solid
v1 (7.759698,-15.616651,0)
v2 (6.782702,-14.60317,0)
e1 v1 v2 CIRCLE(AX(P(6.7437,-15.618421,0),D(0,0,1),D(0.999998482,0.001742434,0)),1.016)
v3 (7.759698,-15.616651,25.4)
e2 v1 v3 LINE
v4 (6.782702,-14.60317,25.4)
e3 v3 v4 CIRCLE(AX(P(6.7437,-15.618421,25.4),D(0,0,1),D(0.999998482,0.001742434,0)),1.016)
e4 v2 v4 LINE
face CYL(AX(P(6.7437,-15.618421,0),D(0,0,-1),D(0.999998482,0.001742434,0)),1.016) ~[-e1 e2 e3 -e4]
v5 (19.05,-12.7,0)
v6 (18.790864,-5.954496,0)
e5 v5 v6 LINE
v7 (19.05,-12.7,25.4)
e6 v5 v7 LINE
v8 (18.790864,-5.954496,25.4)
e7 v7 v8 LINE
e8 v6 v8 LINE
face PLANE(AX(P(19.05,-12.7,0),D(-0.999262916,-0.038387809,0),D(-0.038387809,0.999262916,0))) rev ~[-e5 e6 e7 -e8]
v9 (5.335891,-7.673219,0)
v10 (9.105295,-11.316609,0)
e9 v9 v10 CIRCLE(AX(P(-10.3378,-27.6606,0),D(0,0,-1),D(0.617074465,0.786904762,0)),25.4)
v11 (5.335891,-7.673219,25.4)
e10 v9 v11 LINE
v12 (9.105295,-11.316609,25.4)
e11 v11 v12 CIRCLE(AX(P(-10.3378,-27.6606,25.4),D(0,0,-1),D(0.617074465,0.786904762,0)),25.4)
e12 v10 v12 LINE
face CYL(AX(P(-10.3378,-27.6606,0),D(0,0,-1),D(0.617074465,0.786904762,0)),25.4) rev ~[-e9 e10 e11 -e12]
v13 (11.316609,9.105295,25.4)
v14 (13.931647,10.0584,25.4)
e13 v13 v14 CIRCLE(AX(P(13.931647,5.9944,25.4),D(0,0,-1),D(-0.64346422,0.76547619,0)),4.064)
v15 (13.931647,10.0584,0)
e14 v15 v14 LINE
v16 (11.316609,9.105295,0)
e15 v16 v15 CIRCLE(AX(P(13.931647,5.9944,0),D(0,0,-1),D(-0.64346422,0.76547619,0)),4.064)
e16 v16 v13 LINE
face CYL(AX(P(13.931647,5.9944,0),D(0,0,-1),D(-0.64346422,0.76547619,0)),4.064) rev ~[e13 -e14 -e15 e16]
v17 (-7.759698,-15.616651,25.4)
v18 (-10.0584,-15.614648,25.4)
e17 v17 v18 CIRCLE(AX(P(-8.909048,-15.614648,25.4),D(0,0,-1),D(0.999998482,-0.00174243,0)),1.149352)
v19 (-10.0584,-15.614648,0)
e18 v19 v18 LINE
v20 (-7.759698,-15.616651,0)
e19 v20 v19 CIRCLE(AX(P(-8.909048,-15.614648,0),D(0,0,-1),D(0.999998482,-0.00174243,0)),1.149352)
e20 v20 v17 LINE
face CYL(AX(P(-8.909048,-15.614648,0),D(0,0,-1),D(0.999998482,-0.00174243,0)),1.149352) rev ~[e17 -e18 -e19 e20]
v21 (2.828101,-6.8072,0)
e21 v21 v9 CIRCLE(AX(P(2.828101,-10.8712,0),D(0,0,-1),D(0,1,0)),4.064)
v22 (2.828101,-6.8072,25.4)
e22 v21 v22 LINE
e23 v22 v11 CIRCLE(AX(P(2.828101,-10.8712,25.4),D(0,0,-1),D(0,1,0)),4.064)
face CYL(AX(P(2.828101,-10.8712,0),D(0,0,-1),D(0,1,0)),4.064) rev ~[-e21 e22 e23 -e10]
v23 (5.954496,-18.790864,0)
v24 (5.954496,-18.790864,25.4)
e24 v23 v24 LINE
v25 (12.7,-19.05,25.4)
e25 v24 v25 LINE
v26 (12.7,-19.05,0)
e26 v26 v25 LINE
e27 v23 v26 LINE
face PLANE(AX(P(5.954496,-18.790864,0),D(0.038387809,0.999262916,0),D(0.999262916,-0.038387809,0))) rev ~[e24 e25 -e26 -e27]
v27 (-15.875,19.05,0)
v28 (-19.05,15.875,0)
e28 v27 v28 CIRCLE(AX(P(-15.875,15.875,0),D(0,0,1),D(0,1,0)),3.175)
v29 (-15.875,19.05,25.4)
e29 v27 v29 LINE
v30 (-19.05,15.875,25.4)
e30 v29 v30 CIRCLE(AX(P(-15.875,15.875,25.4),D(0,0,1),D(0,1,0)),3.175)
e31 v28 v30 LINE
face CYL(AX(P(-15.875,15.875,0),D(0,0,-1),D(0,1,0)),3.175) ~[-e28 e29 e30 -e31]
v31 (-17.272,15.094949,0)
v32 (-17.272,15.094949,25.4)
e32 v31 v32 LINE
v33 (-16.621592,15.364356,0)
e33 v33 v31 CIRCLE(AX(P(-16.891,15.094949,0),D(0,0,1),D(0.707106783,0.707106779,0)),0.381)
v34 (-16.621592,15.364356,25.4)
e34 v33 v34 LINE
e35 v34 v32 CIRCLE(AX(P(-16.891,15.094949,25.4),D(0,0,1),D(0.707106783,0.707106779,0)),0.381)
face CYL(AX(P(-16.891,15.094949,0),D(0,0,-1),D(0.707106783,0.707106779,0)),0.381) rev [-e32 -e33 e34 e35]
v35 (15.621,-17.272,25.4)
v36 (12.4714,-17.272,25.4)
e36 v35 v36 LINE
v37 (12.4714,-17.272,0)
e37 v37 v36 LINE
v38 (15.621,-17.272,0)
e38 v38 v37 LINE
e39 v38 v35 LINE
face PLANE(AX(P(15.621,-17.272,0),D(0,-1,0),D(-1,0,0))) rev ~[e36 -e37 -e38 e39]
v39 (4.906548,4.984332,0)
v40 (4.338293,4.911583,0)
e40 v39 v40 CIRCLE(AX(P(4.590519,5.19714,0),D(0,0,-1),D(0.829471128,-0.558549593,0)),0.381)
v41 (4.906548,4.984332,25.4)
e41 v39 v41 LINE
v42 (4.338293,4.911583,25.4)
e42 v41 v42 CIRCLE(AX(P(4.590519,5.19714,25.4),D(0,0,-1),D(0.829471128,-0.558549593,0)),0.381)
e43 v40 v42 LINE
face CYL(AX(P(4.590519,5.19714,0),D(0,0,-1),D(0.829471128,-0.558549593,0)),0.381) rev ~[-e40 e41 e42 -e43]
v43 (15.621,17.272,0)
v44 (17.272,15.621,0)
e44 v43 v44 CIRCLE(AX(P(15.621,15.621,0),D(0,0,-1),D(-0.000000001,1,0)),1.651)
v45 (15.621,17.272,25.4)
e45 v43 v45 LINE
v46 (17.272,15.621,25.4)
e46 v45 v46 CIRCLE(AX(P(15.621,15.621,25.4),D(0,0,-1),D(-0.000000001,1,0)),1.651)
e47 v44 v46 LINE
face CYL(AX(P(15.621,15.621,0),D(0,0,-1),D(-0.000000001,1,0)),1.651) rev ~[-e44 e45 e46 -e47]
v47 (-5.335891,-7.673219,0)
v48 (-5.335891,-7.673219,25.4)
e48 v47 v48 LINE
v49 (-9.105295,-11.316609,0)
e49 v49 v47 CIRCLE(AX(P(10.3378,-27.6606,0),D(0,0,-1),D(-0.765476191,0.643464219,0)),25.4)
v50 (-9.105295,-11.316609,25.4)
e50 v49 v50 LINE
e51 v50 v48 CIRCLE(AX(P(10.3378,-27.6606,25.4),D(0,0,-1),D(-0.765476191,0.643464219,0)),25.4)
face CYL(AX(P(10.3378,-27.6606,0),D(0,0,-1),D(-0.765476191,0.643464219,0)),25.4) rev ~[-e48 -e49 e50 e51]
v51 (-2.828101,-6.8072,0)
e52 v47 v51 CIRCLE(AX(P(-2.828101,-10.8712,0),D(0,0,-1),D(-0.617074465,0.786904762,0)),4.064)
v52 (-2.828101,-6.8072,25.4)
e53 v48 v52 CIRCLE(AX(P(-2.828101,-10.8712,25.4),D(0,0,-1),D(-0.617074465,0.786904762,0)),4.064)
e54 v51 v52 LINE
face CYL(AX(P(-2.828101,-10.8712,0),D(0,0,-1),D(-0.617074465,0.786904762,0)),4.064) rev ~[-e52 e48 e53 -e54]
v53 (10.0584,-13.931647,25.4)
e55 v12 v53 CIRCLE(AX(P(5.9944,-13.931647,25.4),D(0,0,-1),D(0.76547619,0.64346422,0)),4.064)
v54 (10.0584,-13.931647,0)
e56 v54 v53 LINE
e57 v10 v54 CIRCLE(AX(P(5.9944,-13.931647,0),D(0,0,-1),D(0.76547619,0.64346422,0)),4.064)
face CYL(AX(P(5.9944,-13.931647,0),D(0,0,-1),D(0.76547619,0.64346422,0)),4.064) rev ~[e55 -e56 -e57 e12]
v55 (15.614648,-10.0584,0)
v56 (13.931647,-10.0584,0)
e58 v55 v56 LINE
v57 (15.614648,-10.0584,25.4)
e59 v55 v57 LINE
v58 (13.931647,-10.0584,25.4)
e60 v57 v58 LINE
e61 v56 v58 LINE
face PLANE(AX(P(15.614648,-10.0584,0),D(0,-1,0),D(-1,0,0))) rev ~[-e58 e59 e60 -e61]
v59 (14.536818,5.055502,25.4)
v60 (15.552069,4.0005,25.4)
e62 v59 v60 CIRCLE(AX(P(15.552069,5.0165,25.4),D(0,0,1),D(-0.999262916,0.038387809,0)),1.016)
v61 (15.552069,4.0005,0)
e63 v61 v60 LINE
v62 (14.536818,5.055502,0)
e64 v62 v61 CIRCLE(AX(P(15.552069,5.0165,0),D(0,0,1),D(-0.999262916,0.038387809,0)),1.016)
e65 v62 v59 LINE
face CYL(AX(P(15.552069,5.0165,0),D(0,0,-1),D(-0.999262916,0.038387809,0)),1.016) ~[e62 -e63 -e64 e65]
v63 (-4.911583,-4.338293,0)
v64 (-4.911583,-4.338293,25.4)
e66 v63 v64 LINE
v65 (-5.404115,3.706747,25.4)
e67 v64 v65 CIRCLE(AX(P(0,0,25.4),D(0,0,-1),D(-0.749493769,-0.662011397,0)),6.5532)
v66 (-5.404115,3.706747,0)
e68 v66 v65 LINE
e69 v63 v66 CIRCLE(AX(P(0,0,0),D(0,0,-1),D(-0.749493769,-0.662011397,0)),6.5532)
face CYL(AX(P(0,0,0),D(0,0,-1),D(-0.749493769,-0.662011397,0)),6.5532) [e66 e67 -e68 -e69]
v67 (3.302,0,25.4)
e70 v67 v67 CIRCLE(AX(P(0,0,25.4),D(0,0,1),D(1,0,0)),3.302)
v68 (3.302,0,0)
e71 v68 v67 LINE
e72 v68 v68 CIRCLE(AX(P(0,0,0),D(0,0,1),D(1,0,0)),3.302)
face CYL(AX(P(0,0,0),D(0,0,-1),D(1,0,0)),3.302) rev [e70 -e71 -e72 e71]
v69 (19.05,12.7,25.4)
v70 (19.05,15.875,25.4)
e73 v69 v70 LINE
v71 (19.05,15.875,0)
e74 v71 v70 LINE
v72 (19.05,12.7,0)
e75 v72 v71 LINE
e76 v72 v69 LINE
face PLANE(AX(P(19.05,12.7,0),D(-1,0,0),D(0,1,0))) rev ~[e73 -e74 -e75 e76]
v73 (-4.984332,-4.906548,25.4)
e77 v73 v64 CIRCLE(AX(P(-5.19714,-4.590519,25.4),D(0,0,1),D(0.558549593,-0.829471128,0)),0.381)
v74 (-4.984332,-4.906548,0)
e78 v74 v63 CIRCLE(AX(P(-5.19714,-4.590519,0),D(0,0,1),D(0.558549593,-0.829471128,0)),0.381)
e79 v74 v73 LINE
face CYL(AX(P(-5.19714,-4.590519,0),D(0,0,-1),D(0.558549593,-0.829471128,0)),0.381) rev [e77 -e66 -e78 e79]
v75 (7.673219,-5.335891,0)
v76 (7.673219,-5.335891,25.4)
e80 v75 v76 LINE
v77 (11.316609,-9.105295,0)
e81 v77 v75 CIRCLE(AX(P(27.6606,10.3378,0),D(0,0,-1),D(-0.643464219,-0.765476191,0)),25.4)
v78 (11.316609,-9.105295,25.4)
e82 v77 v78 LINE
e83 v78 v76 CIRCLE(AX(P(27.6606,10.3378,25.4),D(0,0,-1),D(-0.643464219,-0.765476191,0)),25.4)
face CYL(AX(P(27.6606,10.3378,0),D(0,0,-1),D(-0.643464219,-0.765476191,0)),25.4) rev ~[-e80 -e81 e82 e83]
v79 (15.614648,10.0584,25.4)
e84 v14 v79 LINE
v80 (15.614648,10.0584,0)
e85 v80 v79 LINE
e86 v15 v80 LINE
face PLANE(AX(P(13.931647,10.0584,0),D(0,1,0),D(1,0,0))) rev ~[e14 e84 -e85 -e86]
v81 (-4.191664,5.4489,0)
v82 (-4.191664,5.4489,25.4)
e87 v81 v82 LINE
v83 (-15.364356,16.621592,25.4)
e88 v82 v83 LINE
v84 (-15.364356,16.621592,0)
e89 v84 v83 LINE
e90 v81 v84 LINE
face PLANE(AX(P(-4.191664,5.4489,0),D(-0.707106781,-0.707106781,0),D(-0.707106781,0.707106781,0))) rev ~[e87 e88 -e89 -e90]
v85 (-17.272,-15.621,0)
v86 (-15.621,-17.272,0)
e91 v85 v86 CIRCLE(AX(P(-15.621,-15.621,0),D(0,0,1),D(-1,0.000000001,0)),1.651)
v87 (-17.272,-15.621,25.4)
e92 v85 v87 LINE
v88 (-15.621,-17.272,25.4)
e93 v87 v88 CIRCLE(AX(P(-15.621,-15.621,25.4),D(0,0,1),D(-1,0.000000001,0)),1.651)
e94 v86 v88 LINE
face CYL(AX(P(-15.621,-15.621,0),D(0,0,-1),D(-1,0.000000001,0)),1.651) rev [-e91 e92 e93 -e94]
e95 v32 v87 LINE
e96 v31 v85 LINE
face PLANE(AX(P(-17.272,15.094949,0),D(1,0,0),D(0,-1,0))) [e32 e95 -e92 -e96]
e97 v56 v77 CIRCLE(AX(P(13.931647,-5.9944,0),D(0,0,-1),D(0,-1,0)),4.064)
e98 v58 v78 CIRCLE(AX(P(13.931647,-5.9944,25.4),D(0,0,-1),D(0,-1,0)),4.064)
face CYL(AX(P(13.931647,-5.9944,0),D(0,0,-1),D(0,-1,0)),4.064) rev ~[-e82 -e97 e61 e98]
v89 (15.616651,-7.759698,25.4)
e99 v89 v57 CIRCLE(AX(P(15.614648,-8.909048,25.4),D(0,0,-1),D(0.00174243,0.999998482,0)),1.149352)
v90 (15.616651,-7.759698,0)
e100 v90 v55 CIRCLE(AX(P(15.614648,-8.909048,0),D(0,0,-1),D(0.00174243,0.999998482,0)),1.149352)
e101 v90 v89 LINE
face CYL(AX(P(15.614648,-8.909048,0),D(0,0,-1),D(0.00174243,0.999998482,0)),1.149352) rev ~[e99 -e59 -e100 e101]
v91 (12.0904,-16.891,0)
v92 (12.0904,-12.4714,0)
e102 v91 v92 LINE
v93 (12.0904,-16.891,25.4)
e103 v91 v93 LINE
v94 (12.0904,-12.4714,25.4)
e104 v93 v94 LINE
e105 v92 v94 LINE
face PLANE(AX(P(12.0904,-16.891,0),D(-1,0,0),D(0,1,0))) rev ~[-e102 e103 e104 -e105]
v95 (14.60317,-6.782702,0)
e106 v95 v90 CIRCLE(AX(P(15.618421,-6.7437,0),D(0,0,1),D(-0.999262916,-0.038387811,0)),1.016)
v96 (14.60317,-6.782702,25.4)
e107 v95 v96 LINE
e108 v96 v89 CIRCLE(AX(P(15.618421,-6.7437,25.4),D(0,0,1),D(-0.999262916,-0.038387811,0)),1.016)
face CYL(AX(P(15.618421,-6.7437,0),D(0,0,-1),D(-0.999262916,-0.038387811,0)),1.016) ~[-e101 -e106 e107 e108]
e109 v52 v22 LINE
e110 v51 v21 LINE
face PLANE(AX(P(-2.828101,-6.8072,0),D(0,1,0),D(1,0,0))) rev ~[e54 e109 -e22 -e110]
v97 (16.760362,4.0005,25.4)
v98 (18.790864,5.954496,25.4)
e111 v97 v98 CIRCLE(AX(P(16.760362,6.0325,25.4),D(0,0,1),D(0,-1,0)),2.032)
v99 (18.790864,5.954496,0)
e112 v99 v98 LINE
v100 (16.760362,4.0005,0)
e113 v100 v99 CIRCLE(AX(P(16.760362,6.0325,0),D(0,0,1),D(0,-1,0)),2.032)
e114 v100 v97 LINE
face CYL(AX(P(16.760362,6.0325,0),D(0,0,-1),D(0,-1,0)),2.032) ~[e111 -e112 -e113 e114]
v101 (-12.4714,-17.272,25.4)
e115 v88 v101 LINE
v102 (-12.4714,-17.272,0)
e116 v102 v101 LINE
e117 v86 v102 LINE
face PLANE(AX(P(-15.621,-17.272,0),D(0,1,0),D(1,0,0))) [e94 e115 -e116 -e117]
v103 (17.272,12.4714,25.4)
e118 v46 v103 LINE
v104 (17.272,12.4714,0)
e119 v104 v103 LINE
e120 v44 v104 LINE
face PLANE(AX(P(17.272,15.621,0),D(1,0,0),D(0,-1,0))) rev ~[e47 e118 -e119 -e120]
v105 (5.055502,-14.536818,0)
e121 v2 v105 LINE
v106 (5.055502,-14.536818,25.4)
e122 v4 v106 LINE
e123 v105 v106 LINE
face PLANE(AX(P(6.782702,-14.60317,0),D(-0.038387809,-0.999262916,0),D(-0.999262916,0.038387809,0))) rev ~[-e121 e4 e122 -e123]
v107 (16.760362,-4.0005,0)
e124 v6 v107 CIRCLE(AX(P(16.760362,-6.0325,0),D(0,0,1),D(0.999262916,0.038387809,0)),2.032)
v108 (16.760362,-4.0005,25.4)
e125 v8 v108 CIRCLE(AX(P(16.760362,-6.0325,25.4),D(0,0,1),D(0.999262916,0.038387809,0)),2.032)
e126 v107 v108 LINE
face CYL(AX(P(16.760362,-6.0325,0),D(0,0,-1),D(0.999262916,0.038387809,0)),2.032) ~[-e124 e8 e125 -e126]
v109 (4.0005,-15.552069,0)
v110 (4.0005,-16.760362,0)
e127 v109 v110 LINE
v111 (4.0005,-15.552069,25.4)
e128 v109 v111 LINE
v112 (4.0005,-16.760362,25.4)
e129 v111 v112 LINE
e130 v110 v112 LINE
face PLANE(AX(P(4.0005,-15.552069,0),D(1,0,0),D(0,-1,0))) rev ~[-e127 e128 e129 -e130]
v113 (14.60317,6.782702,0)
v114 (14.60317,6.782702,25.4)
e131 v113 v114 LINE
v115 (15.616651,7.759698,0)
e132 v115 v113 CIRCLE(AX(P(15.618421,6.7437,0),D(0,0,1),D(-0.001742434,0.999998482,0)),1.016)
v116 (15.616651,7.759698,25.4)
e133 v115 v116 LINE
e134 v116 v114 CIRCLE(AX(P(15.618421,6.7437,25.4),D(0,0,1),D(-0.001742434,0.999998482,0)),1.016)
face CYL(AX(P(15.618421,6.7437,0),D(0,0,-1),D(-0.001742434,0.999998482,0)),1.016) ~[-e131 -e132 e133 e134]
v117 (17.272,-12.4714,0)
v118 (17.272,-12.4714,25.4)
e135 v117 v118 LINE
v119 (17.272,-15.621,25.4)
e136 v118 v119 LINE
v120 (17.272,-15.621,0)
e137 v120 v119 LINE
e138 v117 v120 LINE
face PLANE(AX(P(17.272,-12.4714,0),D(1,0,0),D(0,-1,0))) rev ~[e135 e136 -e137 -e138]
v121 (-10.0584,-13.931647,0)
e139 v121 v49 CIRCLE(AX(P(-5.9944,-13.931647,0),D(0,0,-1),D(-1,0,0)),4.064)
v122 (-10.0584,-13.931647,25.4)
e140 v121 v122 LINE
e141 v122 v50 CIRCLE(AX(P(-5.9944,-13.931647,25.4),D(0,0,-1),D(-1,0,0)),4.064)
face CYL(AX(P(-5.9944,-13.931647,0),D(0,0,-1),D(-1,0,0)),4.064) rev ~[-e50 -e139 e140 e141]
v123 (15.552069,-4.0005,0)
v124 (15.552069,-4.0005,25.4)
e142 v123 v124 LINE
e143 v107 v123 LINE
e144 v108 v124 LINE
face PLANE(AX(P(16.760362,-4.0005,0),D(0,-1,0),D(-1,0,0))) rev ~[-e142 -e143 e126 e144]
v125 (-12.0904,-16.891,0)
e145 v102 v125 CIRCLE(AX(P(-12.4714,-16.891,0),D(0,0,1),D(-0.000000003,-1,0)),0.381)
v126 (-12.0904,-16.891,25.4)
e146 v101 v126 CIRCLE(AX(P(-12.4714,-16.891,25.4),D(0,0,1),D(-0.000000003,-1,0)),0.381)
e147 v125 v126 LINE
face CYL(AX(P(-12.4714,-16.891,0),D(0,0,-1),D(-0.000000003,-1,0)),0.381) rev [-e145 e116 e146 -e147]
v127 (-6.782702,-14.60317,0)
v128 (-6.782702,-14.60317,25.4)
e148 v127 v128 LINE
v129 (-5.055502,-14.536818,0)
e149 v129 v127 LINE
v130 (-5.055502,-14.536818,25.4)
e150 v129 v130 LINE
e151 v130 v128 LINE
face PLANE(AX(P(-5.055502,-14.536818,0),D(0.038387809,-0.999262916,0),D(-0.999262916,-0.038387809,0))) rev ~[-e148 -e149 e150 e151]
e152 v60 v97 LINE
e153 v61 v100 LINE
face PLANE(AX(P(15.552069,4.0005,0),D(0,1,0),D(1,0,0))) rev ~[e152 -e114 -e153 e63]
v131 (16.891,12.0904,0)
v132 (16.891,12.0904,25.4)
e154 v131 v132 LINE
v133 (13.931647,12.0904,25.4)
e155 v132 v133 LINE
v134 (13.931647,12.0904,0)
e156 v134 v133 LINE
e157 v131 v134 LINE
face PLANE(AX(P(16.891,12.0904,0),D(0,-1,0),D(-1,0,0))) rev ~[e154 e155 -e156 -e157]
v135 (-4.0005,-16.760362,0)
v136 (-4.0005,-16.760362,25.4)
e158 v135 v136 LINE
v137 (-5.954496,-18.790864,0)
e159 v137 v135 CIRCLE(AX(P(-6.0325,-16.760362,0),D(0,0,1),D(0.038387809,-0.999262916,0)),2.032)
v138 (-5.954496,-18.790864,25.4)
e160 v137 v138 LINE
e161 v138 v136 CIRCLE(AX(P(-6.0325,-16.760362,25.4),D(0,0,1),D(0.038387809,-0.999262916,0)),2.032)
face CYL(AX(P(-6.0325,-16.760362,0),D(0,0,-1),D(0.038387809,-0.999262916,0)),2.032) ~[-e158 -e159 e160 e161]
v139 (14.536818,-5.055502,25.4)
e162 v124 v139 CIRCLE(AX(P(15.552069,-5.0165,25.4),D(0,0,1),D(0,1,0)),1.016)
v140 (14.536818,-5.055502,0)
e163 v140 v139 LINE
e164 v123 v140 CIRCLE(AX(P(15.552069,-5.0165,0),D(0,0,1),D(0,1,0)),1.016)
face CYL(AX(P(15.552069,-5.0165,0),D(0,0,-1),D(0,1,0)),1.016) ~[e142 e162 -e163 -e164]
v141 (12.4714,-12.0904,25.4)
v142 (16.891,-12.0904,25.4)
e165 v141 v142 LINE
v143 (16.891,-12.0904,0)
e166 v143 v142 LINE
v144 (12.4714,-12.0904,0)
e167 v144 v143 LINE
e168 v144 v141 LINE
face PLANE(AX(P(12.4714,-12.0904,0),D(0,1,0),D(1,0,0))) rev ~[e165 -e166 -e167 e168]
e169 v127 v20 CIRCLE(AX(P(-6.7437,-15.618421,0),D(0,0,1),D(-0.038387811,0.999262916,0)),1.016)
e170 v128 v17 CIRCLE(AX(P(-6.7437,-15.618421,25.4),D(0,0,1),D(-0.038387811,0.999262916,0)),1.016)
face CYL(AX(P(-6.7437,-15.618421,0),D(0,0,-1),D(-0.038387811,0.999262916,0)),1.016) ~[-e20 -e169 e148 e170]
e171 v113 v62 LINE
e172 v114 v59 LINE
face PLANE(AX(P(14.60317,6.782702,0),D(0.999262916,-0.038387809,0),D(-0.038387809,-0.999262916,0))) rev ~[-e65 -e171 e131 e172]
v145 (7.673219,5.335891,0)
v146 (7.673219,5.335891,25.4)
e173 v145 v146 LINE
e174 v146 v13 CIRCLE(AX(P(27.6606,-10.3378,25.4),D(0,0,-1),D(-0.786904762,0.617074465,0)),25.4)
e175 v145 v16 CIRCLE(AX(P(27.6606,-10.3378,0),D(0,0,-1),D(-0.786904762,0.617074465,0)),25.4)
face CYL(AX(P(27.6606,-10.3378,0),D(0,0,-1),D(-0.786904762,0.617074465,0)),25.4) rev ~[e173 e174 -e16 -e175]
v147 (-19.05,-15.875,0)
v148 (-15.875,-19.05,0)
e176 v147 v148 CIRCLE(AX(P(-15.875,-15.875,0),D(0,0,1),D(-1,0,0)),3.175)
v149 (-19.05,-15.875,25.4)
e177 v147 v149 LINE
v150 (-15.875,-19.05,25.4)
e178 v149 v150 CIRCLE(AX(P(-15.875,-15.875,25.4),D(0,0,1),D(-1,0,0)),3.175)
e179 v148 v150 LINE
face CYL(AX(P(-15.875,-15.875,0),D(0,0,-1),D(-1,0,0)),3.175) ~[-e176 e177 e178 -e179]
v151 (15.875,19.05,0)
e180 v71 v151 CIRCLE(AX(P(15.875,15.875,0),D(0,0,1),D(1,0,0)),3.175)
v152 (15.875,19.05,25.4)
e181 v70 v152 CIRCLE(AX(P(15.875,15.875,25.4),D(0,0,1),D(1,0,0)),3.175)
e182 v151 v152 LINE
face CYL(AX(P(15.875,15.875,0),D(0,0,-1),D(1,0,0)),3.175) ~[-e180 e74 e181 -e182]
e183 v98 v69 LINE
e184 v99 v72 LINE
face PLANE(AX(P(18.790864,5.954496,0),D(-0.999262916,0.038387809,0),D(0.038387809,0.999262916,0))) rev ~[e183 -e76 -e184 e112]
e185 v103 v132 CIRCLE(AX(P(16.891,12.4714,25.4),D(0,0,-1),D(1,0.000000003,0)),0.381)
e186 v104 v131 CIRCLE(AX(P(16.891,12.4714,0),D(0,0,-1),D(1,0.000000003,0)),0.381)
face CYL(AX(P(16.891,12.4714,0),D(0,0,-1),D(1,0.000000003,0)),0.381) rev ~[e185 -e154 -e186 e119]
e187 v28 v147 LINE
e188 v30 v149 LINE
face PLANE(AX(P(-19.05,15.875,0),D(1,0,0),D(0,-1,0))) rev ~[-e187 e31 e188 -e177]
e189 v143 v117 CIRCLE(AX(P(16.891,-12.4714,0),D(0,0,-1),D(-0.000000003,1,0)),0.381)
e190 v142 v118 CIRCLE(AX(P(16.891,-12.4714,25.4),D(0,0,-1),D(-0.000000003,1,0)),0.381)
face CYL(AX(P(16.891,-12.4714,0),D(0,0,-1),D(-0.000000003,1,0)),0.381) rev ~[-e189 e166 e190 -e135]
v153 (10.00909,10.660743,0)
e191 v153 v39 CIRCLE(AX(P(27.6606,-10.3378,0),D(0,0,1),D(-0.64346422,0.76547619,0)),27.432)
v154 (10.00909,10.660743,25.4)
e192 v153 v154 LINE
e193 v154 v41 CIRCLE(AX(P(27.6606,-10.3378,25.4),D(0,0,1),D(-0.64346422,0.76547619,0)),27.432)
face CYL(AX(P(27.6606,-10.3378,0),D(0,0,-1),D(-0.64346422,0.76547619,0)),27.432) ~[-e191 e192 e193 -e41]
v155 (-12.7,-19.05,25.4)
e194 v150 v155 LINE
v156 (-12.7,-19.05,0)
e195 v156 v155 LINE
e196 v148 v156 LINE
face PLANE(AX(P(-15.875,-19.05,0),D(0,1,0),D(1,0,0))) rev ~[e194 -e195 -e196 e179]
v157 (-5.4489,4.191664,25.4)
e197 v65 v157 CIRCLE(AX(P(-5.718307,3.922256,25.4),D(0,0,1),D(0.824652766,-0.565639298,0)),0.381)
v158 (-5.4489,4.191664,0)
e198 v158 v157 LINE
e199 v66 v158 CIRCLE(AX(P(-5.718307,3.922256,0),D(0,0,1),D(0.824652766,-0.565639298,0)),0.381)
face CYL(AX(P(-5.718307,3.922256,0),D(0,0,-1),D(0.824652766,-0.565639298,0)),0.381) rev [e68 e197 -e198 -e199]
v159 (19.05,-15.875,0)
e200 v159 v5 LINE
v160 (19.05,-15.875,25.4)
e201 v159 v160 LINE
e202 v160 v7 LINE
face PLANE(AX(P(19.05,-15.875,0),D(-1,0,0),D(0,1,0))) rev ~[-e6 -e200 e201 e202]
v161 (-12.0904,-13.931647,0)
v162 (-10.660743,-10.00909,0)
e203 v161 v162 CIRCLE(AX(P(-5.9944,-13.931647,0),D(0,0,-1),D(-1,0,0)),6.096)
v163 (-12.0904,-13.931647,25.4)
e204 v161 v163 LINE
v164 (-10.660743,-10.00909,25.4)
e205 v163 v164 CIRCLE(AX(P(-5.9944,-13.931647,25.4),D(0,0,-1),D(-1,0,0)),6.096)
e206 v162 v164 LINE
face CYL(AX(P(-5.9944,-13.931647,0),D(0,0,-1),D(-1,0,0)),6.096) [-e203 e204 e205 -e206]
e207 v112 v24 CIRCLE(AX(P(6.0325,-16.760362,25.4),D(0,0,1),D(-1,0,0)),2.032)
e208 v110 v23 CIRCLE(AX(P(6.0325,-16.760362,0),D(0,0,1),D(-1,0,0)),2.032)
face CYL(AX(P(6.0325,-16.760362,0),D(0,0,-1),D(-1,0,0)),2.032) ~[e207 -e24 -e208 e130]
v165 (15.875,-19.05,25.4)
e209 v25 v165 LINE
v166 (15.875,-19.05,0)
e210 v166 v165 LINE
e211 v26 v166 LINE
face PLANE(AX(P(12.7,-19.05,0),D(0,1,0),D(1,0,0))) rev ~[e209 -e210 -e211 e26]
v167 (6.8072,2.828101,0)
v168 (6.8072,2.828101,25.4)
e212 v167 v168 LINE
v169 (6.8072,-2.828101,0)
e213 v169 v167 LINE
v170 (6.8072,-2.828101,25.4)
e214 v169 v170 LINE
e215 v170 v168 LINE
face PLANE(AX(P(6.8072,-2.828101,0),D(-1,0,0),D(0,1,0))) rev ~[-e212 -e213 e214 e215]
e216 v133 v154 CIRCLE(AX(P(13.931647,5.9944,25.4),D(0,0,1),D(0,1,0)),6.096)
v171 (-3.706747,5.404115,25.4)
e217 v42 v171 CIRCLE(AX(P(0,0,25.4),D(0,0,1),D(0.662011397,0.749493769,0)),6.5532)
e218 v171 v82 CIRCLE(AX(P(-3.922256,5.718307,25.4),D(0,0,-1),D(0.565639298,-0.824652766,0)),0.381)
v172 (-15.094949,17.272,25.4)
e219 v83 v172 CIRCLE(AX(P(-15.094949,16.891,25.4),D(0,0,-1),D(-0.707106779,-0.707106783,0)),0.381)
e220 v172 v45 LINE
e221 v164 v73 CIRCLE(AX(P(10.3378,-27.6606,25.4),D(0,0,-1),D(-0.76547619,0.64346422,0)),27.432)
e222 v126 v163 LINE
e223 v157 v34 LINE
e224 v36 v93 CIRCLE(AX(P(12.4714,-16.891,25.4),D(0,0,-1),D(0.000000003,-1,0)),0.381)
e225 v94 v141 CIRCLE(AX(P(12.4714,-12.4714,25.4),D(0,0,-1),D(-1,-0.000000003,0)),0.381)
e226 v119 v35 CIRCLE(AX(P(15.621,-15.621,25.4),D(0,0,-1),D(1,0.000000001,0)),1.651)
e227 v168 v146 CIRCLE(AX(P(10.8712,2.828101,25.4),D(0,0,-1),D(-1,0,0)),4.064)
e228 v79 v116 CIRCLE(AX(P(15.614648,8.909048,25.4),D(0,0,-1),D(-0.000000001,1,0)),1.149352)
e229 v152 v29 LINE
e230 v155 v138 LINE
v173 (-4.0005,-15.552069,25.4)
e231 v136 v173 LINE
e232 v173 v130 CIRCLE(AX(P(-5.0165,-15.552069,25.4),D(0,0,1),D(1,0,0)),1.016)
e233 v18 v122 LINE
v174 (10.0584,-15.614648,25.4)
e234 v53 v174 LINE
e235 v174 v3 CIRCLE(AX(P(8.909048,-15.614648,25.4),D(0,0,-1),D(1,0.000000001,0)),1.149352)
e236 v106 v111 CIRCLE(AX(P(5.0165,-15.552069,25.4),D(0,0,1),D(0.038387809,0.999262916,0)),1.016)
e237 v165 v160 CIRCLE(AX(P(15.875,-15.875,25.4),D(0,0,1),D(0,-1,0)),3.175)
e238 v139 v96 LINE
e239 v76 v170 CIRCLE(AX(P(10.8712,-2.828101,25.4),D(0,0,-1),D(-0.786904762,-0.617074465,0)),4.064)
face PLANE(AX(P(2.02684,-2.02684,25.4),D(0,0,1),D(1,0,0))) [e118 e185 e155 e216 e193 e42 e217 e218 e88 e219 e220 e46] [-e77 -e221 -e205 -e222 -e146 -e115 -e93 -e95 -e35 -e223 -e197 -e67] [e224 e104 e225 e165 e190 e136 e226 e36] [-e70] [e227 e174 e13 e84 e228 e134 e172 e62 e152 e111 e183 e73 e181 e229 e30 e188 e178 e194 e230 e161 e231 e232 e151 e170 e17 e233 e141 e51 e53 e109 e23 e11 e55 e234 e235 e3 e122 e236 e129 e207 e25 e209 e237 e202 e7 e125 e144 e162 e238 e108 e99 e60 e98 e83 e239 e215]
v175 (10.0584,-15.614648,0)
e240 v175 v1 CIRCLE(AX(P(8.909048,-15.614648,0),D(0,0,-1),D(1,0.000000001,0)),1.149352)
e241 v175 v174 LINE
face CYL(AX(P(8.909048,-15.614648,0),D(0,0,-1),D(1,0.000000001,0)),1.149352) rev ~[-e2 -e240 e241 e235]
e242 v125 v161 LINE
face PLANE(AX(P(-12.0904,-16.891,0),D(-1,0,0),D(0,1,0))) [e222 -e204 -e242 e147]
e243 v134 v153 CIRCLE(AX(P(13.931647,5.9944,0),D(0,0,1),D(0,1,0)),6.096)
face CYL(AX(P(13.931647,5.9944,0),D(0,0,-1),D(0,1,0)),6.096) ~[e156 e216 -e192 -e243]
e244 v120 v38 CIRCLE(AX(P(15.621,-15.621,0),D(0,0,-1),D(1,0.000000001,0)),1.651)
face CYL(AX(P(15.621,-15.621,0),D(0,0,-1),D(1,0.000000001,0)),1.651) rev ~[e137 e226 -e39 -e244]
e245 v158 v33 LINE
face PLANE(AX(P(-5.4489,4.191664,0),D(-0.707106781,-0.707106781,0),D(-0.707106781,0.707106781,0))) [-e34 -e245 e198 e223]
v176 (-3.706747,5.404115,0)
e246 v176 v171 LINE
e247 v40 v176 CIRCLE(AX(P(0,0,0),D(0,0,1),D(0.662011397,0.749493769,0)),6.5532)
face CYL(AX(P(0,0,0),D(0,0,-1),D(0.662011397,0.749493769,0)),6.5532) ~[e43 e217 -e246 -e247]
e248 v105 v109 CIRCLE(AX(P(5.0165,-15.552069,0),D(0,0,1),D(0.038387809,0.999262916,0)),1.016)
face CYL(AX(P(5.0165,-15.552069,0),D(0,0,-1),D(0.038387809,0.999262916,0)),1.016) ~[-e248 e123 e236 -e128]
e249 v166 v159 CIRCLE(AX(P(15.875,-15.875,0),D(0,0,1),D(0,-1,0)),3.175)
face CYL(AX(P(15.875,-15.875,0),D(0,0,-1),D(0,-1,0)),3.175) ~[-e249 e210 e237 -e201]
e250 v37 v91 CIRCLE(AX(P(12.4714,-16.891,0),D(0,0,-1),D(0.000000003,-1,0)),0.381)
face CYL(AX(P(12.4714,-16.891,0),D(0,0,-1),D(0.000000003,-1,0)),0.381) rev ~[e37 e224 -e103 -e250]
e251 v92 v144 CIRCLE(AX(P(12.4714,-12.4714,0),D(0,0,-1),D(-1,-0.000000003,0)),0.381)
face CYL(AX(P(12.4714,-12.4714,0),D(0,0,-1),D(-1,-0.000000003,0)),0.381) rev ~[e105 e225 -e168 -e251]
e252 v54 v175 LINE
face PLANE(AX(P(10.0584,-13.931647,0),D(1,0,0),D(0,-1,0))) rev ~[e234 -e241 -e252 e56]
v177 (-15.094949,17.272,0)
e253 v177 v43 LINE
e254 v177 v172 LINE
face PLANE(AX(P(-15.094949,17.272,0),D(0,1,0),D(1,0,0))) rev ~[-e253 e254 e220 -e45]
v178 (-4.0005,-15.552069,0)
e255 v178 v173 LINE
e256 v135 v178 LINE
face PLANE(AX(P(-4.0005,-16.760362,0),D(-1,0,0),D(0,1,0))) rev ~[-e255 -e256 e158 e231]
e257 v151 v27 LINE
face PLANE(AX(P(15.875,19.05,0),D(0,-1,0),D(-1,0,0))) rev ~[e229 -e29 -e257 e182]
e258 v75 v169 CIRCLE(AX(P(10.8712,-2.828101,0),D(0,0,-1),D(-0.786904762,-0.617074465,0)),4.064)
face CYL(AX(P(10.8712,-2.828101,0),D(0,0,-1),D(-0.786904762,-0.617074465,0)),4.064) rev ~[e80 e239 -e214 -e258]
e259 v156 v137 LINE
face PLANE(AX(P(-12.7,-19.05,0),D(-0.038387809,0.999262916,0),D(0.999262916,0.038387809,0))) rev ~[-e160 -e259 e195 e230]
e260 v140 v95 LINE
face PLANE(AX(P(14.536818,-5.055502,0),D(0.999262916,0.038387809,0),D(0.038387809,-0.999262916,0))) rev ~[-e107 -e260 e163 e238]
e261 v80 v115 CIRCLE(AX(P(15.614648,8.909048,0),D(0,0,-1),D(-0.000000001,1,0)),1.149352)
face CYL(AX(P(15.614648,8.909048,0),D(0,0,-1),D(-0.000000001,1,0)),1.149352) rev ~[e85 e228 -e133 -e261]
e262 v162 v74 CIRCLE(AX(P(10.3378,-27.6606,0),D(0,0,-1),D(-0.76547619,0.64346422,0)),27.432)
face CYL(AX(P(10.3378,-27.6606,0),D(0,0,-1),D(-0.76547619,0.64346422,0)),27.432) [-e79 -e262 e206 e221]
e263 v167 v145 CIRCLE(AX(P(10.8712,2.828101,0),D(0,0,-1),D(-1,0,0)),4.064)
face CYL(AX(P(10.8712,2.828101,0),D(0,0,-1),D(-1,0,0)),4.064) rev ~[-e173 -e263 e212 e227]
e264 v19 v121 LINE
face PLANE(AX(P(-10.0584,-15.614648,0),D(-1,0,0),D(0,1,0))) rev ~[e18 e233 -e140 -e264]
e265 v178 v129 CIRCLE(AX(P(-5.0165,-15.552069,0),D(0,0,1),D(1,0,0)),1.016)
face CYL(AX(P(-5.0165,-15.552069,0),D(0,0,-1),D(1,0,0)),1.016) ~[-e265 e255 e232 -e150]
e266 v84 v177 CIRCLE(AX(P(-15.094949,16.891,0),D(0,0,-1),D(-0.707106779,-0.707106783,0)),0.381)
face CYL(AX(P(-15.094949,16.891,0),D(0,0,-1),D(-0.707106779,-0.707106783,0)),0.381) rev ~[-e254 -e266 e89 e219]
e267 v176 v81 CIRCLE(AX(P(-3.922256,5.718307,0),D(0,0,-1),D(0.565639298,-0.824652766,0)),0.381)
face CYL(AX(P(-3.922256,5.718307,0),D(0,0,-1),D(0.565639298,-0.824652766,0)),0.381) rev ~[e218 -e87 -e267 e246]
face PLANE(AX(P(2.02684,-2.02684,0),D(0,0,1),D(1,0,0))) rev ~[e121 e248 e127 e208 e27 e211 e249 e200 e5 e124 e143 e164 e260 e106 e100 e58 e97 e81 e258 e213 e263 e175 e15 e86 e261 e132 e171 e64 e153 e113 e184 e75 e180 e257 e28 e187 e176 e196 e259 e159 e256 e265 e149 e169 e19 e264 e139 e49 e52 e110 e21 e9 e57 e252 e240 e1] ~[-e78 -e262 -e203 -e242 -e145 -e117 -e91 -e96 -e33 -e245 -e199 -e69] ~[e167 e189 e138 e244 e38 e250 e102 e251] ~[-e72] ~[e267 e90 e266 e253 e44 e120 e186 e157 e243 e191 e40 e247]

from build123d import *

# Parameters (mm, degrees)
SKETCH1_R      = 3.302
EXTRUDE1_DEPTH = 25.4


with BuildPart() as part:
    # Sketch1 → Extrude1 (new body)
    with BuildSketch(Plane.XY):
        with BuildLine():
            Line((15.875, 19.05), (-15.875, 19.05))
            ThreePointArc((-15.875, 19.05), (-18.12006403, 18.12006403), (-19.05, 15.875))
            Line((-19.05, 15.875), (-19.05, -15.875))
            ThreePointArc((-19.05, -15.875), (-18.12006403, -18.12006403), (-15.875, -19.05))
            Line((-15.875, -19.05), (-12.7, -19.05))
            Line((-12.7, -19.05), (-5.954495972, -18.790863874))
            ThreePointArc((-5.954495972, -18.790863874), (-4.568340141, -18.169354143), (-4.0005, -16.760361628))
            Line((-4.0005, -16.760361628), (-4.0005, -15.552069001))
            ThreePointArc((-4.0005, -15.552069001), (-4.312003742, -14.819989072), (-5.055502014, -14.536817878))
            Line((-5.055502014, -14.536817878), (-6.782702014, -14.603170209))
            ThreePointArc((-6.782702014, -14.603170209), (-7.475165883, -14.913287543), (-7.759698458, -15.616651022))
            ThreePointArc((-7.759698458, -15.616651022), (-8.91004969, -16.763999564), (-10.0584, -15.614648356))
            Line((-10.0584, -15.614648356), (-10.0584, -13.931647412))
            ThreePointArc((-10.0584, -13.931647412), (-9.812696364, -12.53999053), (-9.105295238, -11.316608824))
            ThreePointArc((-9.105295238, -11.316608824), (-7.314841404, -9.397406099), (-5.335891418, -7.673219048))
            ThreePointArc((-5.335891418, -7.673219048), (-4.154656747, -7.029801128), (-2.828100791, -6.8072))
            Line((-2.828100791, -6.8072), (0, -6.8072))
            Line((0, -6.8072), (2.828100791, -6.8072))
            ThreePointArc((2.828100791, -6.8072), (4.154656747, -7.029801128), (5.335891418, -7.673219048))
            ThreePointArc((5.335891418, -7.673219048), (7.314841404, -9.397406099), (9.105295238, -11.316608824))
            ThreePointArc((9.105295238, -11.316608824), (9.812696364, -12.53999053), (10.0584, -13.931647412))
            Line((10.0584, -13.931647412), (10.0584, -15.614648356))
            ThreePointArc((10.0584, -15.614648356), (8.91004969, -16.763999564), (7.759698458, -15.616651022))
            ThreePointArc((7.759698458, -15.616651022), (7.475165883, -14.913287543), (6.782702014, -14.603170209))
            Line((6.782702014, -14.603170209), (5.055502014, -14.536817878))
            ThreePointArc((5.055502014, -14.536817878), (4.312003742, -14.819989072), (4.0005, -15.552069001))
            Line((4.0005, -15.552069001), (4.0005, -16.760361628))
            ThreePointArc((4.0005, -16.760361628), (4.568340141, -18.169354143), (5.954495972, -18.790863874))
            Line((5.954495972, -18.790863874), (12.7, -19.05))
            Line((12.7, -19.05), (15.875, -19.05))
            ThreePointArc((15.875, -19.05), (18.12006403, -18.12006403), (19.05, -15.875))
            Line((19.05, -15.875), (19.05, -12.7))
            Line((19.05, -12.7), (18.790863874, -5.954495972))
            ThreePointArc((18.790863874, -5.954495972), (18.169354143, -4.568340141), (16.760361628, -4.0005))
            Line((16.760361628, -4.0005), (15.552069001, -4.0005))
            ThreePointArc((15.552069001, -4.0005), (14.819989072, -4.312003742), (14.536817878, -5.055502014))
            Line((14.536817878, -5.055502014), (14.603170209, -6.782702014))
            ThreePointArc((14.603170209, -6.782702014), (14.913287543, -7.475165883), (15.616651022, -7.759698458))
            ThreePointArc((15.616651022, -7.759698458), (16.763999564, -8.91004969), (15.614648356, -10.0584))
            Line((15.614648356, -10.0584), (13.931647412, -10.0584))
            ThreePointArc((13.931647412, -10.0584), (12.53999053, -9.812696364), (11.316608824, -9.105295238))
            ThreePointArc((11.316608824, -9.105295238), (9.397406099, -7.314841404), (7.673219048, -5.335891418))
            ThreePointArc((7.673219048, -5.335891418), (7.029801128, -4.154656747), (6.8072, -2.828100791))
            Line((6.8072, -2.828100791), (6.8072, 0))
            Line((6.8072, 0), (6.8072, 2.828100791))
            ThreePointArc((6.8072, 2.828100791), (7.029801128, 4.154656747), (7.673219048, 5.335891418))
            ThreePointArc((7.673219048, 5.335891418), (9.397406099, 7.314841404), (11.316608824, 9.105295238))
            ThreePointArc((11.316608824, 9.105295238), (12.53999053, 9.812696364), (13.931647412, 10.0584))
            Line((13.931647412, 10.0584), (15.614648356, 10.0584))
            ThreePointArc((15.614648356, 10.0584), (16.763999564, 8.91004969), (15.616651022, 7.759698458))
            ThreePointArc((15.616651022, 7.759698458), (14.913287543, 7.475165883), (14.603170209, 6.782702014))
            Line((14.603170209, 6.782702014), (14.536817878, 5.055502014))
            ThreePointArc((14.536817878, 5.055502014), (14.819989072, 4.312003742), (15.552069001, 4.0005))
            Line((15.552069001, 4.0005), (16.760361628, 4.0005))
            ThreePointArc((16.760361628, 4.0005), (18.169354143, 4.568340141), (18.790863874, 5.954495972))
            Line((18.790863874, 5.954495972), (19.05, 12.7))
            Line((19.05, 12.7), (19.05, 15.875))
            ThreePointArc((19.05, 15.875), (18.12006403, 18.12006403), (15.875, 19.05))
        make_face()
        Circle(SKETCH1_R, mode=Mode.SUBTRACT)
        with BuildLine():
            Line((-4.191663684, 5.448899541), (-15.364356459, 16.621592316))
            ThreePointArc((-15.364356459, 16.621592316), (-15.446946878, 17.036802388), (-15.094948776, 17.272))
            Line((-15.094948776, 17.272), (15.621, 17.272))
            ThreePointArc((15.621, 17.272), (16.788433296, 16.788433296), (17.272, 15.621))
            Line((17.272, 15.621), (17.272, 12.4714))
            ThreePointArc((17.272, 12.4714), (17.160407684, 12.201992316), (16.891, 12.0904))
            Line((16.891, 12.0904), (13.931647412, 12.0904))
            ThreePointArc((13.931647412, 12.0904), (11.84416209, 11.721844546), (10.00908953, 10.660742857))
            ThreePointArc((10.00908953, 10.660742857), (7.259428949, 8.000870719), (4.906547928, 4.984332303))
            ThreePointArc((4.906547928, 4.984332303), (4.638901343, 4.819224111), (4.338293085, 4.91158257))
            ThreePointArc((4.338293085, 4.91158257), (0.40044901, 6.540953358), (-3.706747429, 5.40411452))
            ThreePointArc((-3.706747429, 5.40411452), (-3.957294594, 5.338921804), (-4.191663684, 5.448899541))
        make_face(mode=Mode.SUBTRACT)
        with BuildLine():
            Line((-5.448899541, 4.191663684), (-16.621592316, 15.364356459))
            ThreePointArc((-16.621592316, 15.364356459), (-17.036802388, 15.446946878), (-17.272, 15.094948776))
            Line((-17.272, 15.094948776), (-17.272, -15.621))
            ThreePointArc((-17.272, -15.621), (-16.788433296, -16.788433296), (-15.621, -17.272))
            Line((-15.621, -17.272), (-12.4714, -17.272))
            ThreePointArc((-12.4714, -17.272), (-12.201992316, -17.160407684), (-12.0904, -16.891))
            Line((-12.0904, -16.891), (-12.0904, -13.931647412))
            ThreePointArc((-12.0904, -13.931647412), (-11.721844546, -11.84416209), (-10.660742857, -10.00908953))
            ThreePointArc((-10.660742857, -10.00908953), (-8.000870719, -7.259428949), (-4.984332303, -4.906547928))
            ThreePointArc((-4.984332303, -4.906547928), (-4.819224111, -4.638901343), (-4.91158257, -4.338293085))
            ThreePointArc((-4.91158257, -4.338293085), (-6.540953358, -0.40044901), (-5.40411452, 3.706747429))
            ThreePointArc((-5.40411452, 3.706747429), (-5.338921804, 3.957294594), (-5.448899541, 4.191663684))
        make_face(mode=Mode.SUBTRACT)
        with BuildLine():
            Line((12.4714, -12.0904), (16.891, -12.0904))
            ThreePointArc((16.891, -12.0904), (17.160407684, -12.201992316), (17.272, -12.4714))
            Line((17.272, -12.4714), (17.272, -15.621))
            ThreePointArc((17.272, -15.621), (16.788433296, -16.788433296), (15.621, -17.272))
            Line((15.621, -17.272), (12.4714, -17.272))
            ThreePointArc((12.4714, -17.272), (12.201992316, -17.160407684), (12.0904, -16.891))
            Line((12.0904, -16.891), (12.0904, -12.4714))
            ThreePointArc((12.0904, -12.4714), (12.201992316, -12.201992316), (12.4714, -12.0904))
        make_face(mode=Mode.SUBTRACT)
    extrude(amount=EXTRUDE1_DEPTH)


solid = part.part
